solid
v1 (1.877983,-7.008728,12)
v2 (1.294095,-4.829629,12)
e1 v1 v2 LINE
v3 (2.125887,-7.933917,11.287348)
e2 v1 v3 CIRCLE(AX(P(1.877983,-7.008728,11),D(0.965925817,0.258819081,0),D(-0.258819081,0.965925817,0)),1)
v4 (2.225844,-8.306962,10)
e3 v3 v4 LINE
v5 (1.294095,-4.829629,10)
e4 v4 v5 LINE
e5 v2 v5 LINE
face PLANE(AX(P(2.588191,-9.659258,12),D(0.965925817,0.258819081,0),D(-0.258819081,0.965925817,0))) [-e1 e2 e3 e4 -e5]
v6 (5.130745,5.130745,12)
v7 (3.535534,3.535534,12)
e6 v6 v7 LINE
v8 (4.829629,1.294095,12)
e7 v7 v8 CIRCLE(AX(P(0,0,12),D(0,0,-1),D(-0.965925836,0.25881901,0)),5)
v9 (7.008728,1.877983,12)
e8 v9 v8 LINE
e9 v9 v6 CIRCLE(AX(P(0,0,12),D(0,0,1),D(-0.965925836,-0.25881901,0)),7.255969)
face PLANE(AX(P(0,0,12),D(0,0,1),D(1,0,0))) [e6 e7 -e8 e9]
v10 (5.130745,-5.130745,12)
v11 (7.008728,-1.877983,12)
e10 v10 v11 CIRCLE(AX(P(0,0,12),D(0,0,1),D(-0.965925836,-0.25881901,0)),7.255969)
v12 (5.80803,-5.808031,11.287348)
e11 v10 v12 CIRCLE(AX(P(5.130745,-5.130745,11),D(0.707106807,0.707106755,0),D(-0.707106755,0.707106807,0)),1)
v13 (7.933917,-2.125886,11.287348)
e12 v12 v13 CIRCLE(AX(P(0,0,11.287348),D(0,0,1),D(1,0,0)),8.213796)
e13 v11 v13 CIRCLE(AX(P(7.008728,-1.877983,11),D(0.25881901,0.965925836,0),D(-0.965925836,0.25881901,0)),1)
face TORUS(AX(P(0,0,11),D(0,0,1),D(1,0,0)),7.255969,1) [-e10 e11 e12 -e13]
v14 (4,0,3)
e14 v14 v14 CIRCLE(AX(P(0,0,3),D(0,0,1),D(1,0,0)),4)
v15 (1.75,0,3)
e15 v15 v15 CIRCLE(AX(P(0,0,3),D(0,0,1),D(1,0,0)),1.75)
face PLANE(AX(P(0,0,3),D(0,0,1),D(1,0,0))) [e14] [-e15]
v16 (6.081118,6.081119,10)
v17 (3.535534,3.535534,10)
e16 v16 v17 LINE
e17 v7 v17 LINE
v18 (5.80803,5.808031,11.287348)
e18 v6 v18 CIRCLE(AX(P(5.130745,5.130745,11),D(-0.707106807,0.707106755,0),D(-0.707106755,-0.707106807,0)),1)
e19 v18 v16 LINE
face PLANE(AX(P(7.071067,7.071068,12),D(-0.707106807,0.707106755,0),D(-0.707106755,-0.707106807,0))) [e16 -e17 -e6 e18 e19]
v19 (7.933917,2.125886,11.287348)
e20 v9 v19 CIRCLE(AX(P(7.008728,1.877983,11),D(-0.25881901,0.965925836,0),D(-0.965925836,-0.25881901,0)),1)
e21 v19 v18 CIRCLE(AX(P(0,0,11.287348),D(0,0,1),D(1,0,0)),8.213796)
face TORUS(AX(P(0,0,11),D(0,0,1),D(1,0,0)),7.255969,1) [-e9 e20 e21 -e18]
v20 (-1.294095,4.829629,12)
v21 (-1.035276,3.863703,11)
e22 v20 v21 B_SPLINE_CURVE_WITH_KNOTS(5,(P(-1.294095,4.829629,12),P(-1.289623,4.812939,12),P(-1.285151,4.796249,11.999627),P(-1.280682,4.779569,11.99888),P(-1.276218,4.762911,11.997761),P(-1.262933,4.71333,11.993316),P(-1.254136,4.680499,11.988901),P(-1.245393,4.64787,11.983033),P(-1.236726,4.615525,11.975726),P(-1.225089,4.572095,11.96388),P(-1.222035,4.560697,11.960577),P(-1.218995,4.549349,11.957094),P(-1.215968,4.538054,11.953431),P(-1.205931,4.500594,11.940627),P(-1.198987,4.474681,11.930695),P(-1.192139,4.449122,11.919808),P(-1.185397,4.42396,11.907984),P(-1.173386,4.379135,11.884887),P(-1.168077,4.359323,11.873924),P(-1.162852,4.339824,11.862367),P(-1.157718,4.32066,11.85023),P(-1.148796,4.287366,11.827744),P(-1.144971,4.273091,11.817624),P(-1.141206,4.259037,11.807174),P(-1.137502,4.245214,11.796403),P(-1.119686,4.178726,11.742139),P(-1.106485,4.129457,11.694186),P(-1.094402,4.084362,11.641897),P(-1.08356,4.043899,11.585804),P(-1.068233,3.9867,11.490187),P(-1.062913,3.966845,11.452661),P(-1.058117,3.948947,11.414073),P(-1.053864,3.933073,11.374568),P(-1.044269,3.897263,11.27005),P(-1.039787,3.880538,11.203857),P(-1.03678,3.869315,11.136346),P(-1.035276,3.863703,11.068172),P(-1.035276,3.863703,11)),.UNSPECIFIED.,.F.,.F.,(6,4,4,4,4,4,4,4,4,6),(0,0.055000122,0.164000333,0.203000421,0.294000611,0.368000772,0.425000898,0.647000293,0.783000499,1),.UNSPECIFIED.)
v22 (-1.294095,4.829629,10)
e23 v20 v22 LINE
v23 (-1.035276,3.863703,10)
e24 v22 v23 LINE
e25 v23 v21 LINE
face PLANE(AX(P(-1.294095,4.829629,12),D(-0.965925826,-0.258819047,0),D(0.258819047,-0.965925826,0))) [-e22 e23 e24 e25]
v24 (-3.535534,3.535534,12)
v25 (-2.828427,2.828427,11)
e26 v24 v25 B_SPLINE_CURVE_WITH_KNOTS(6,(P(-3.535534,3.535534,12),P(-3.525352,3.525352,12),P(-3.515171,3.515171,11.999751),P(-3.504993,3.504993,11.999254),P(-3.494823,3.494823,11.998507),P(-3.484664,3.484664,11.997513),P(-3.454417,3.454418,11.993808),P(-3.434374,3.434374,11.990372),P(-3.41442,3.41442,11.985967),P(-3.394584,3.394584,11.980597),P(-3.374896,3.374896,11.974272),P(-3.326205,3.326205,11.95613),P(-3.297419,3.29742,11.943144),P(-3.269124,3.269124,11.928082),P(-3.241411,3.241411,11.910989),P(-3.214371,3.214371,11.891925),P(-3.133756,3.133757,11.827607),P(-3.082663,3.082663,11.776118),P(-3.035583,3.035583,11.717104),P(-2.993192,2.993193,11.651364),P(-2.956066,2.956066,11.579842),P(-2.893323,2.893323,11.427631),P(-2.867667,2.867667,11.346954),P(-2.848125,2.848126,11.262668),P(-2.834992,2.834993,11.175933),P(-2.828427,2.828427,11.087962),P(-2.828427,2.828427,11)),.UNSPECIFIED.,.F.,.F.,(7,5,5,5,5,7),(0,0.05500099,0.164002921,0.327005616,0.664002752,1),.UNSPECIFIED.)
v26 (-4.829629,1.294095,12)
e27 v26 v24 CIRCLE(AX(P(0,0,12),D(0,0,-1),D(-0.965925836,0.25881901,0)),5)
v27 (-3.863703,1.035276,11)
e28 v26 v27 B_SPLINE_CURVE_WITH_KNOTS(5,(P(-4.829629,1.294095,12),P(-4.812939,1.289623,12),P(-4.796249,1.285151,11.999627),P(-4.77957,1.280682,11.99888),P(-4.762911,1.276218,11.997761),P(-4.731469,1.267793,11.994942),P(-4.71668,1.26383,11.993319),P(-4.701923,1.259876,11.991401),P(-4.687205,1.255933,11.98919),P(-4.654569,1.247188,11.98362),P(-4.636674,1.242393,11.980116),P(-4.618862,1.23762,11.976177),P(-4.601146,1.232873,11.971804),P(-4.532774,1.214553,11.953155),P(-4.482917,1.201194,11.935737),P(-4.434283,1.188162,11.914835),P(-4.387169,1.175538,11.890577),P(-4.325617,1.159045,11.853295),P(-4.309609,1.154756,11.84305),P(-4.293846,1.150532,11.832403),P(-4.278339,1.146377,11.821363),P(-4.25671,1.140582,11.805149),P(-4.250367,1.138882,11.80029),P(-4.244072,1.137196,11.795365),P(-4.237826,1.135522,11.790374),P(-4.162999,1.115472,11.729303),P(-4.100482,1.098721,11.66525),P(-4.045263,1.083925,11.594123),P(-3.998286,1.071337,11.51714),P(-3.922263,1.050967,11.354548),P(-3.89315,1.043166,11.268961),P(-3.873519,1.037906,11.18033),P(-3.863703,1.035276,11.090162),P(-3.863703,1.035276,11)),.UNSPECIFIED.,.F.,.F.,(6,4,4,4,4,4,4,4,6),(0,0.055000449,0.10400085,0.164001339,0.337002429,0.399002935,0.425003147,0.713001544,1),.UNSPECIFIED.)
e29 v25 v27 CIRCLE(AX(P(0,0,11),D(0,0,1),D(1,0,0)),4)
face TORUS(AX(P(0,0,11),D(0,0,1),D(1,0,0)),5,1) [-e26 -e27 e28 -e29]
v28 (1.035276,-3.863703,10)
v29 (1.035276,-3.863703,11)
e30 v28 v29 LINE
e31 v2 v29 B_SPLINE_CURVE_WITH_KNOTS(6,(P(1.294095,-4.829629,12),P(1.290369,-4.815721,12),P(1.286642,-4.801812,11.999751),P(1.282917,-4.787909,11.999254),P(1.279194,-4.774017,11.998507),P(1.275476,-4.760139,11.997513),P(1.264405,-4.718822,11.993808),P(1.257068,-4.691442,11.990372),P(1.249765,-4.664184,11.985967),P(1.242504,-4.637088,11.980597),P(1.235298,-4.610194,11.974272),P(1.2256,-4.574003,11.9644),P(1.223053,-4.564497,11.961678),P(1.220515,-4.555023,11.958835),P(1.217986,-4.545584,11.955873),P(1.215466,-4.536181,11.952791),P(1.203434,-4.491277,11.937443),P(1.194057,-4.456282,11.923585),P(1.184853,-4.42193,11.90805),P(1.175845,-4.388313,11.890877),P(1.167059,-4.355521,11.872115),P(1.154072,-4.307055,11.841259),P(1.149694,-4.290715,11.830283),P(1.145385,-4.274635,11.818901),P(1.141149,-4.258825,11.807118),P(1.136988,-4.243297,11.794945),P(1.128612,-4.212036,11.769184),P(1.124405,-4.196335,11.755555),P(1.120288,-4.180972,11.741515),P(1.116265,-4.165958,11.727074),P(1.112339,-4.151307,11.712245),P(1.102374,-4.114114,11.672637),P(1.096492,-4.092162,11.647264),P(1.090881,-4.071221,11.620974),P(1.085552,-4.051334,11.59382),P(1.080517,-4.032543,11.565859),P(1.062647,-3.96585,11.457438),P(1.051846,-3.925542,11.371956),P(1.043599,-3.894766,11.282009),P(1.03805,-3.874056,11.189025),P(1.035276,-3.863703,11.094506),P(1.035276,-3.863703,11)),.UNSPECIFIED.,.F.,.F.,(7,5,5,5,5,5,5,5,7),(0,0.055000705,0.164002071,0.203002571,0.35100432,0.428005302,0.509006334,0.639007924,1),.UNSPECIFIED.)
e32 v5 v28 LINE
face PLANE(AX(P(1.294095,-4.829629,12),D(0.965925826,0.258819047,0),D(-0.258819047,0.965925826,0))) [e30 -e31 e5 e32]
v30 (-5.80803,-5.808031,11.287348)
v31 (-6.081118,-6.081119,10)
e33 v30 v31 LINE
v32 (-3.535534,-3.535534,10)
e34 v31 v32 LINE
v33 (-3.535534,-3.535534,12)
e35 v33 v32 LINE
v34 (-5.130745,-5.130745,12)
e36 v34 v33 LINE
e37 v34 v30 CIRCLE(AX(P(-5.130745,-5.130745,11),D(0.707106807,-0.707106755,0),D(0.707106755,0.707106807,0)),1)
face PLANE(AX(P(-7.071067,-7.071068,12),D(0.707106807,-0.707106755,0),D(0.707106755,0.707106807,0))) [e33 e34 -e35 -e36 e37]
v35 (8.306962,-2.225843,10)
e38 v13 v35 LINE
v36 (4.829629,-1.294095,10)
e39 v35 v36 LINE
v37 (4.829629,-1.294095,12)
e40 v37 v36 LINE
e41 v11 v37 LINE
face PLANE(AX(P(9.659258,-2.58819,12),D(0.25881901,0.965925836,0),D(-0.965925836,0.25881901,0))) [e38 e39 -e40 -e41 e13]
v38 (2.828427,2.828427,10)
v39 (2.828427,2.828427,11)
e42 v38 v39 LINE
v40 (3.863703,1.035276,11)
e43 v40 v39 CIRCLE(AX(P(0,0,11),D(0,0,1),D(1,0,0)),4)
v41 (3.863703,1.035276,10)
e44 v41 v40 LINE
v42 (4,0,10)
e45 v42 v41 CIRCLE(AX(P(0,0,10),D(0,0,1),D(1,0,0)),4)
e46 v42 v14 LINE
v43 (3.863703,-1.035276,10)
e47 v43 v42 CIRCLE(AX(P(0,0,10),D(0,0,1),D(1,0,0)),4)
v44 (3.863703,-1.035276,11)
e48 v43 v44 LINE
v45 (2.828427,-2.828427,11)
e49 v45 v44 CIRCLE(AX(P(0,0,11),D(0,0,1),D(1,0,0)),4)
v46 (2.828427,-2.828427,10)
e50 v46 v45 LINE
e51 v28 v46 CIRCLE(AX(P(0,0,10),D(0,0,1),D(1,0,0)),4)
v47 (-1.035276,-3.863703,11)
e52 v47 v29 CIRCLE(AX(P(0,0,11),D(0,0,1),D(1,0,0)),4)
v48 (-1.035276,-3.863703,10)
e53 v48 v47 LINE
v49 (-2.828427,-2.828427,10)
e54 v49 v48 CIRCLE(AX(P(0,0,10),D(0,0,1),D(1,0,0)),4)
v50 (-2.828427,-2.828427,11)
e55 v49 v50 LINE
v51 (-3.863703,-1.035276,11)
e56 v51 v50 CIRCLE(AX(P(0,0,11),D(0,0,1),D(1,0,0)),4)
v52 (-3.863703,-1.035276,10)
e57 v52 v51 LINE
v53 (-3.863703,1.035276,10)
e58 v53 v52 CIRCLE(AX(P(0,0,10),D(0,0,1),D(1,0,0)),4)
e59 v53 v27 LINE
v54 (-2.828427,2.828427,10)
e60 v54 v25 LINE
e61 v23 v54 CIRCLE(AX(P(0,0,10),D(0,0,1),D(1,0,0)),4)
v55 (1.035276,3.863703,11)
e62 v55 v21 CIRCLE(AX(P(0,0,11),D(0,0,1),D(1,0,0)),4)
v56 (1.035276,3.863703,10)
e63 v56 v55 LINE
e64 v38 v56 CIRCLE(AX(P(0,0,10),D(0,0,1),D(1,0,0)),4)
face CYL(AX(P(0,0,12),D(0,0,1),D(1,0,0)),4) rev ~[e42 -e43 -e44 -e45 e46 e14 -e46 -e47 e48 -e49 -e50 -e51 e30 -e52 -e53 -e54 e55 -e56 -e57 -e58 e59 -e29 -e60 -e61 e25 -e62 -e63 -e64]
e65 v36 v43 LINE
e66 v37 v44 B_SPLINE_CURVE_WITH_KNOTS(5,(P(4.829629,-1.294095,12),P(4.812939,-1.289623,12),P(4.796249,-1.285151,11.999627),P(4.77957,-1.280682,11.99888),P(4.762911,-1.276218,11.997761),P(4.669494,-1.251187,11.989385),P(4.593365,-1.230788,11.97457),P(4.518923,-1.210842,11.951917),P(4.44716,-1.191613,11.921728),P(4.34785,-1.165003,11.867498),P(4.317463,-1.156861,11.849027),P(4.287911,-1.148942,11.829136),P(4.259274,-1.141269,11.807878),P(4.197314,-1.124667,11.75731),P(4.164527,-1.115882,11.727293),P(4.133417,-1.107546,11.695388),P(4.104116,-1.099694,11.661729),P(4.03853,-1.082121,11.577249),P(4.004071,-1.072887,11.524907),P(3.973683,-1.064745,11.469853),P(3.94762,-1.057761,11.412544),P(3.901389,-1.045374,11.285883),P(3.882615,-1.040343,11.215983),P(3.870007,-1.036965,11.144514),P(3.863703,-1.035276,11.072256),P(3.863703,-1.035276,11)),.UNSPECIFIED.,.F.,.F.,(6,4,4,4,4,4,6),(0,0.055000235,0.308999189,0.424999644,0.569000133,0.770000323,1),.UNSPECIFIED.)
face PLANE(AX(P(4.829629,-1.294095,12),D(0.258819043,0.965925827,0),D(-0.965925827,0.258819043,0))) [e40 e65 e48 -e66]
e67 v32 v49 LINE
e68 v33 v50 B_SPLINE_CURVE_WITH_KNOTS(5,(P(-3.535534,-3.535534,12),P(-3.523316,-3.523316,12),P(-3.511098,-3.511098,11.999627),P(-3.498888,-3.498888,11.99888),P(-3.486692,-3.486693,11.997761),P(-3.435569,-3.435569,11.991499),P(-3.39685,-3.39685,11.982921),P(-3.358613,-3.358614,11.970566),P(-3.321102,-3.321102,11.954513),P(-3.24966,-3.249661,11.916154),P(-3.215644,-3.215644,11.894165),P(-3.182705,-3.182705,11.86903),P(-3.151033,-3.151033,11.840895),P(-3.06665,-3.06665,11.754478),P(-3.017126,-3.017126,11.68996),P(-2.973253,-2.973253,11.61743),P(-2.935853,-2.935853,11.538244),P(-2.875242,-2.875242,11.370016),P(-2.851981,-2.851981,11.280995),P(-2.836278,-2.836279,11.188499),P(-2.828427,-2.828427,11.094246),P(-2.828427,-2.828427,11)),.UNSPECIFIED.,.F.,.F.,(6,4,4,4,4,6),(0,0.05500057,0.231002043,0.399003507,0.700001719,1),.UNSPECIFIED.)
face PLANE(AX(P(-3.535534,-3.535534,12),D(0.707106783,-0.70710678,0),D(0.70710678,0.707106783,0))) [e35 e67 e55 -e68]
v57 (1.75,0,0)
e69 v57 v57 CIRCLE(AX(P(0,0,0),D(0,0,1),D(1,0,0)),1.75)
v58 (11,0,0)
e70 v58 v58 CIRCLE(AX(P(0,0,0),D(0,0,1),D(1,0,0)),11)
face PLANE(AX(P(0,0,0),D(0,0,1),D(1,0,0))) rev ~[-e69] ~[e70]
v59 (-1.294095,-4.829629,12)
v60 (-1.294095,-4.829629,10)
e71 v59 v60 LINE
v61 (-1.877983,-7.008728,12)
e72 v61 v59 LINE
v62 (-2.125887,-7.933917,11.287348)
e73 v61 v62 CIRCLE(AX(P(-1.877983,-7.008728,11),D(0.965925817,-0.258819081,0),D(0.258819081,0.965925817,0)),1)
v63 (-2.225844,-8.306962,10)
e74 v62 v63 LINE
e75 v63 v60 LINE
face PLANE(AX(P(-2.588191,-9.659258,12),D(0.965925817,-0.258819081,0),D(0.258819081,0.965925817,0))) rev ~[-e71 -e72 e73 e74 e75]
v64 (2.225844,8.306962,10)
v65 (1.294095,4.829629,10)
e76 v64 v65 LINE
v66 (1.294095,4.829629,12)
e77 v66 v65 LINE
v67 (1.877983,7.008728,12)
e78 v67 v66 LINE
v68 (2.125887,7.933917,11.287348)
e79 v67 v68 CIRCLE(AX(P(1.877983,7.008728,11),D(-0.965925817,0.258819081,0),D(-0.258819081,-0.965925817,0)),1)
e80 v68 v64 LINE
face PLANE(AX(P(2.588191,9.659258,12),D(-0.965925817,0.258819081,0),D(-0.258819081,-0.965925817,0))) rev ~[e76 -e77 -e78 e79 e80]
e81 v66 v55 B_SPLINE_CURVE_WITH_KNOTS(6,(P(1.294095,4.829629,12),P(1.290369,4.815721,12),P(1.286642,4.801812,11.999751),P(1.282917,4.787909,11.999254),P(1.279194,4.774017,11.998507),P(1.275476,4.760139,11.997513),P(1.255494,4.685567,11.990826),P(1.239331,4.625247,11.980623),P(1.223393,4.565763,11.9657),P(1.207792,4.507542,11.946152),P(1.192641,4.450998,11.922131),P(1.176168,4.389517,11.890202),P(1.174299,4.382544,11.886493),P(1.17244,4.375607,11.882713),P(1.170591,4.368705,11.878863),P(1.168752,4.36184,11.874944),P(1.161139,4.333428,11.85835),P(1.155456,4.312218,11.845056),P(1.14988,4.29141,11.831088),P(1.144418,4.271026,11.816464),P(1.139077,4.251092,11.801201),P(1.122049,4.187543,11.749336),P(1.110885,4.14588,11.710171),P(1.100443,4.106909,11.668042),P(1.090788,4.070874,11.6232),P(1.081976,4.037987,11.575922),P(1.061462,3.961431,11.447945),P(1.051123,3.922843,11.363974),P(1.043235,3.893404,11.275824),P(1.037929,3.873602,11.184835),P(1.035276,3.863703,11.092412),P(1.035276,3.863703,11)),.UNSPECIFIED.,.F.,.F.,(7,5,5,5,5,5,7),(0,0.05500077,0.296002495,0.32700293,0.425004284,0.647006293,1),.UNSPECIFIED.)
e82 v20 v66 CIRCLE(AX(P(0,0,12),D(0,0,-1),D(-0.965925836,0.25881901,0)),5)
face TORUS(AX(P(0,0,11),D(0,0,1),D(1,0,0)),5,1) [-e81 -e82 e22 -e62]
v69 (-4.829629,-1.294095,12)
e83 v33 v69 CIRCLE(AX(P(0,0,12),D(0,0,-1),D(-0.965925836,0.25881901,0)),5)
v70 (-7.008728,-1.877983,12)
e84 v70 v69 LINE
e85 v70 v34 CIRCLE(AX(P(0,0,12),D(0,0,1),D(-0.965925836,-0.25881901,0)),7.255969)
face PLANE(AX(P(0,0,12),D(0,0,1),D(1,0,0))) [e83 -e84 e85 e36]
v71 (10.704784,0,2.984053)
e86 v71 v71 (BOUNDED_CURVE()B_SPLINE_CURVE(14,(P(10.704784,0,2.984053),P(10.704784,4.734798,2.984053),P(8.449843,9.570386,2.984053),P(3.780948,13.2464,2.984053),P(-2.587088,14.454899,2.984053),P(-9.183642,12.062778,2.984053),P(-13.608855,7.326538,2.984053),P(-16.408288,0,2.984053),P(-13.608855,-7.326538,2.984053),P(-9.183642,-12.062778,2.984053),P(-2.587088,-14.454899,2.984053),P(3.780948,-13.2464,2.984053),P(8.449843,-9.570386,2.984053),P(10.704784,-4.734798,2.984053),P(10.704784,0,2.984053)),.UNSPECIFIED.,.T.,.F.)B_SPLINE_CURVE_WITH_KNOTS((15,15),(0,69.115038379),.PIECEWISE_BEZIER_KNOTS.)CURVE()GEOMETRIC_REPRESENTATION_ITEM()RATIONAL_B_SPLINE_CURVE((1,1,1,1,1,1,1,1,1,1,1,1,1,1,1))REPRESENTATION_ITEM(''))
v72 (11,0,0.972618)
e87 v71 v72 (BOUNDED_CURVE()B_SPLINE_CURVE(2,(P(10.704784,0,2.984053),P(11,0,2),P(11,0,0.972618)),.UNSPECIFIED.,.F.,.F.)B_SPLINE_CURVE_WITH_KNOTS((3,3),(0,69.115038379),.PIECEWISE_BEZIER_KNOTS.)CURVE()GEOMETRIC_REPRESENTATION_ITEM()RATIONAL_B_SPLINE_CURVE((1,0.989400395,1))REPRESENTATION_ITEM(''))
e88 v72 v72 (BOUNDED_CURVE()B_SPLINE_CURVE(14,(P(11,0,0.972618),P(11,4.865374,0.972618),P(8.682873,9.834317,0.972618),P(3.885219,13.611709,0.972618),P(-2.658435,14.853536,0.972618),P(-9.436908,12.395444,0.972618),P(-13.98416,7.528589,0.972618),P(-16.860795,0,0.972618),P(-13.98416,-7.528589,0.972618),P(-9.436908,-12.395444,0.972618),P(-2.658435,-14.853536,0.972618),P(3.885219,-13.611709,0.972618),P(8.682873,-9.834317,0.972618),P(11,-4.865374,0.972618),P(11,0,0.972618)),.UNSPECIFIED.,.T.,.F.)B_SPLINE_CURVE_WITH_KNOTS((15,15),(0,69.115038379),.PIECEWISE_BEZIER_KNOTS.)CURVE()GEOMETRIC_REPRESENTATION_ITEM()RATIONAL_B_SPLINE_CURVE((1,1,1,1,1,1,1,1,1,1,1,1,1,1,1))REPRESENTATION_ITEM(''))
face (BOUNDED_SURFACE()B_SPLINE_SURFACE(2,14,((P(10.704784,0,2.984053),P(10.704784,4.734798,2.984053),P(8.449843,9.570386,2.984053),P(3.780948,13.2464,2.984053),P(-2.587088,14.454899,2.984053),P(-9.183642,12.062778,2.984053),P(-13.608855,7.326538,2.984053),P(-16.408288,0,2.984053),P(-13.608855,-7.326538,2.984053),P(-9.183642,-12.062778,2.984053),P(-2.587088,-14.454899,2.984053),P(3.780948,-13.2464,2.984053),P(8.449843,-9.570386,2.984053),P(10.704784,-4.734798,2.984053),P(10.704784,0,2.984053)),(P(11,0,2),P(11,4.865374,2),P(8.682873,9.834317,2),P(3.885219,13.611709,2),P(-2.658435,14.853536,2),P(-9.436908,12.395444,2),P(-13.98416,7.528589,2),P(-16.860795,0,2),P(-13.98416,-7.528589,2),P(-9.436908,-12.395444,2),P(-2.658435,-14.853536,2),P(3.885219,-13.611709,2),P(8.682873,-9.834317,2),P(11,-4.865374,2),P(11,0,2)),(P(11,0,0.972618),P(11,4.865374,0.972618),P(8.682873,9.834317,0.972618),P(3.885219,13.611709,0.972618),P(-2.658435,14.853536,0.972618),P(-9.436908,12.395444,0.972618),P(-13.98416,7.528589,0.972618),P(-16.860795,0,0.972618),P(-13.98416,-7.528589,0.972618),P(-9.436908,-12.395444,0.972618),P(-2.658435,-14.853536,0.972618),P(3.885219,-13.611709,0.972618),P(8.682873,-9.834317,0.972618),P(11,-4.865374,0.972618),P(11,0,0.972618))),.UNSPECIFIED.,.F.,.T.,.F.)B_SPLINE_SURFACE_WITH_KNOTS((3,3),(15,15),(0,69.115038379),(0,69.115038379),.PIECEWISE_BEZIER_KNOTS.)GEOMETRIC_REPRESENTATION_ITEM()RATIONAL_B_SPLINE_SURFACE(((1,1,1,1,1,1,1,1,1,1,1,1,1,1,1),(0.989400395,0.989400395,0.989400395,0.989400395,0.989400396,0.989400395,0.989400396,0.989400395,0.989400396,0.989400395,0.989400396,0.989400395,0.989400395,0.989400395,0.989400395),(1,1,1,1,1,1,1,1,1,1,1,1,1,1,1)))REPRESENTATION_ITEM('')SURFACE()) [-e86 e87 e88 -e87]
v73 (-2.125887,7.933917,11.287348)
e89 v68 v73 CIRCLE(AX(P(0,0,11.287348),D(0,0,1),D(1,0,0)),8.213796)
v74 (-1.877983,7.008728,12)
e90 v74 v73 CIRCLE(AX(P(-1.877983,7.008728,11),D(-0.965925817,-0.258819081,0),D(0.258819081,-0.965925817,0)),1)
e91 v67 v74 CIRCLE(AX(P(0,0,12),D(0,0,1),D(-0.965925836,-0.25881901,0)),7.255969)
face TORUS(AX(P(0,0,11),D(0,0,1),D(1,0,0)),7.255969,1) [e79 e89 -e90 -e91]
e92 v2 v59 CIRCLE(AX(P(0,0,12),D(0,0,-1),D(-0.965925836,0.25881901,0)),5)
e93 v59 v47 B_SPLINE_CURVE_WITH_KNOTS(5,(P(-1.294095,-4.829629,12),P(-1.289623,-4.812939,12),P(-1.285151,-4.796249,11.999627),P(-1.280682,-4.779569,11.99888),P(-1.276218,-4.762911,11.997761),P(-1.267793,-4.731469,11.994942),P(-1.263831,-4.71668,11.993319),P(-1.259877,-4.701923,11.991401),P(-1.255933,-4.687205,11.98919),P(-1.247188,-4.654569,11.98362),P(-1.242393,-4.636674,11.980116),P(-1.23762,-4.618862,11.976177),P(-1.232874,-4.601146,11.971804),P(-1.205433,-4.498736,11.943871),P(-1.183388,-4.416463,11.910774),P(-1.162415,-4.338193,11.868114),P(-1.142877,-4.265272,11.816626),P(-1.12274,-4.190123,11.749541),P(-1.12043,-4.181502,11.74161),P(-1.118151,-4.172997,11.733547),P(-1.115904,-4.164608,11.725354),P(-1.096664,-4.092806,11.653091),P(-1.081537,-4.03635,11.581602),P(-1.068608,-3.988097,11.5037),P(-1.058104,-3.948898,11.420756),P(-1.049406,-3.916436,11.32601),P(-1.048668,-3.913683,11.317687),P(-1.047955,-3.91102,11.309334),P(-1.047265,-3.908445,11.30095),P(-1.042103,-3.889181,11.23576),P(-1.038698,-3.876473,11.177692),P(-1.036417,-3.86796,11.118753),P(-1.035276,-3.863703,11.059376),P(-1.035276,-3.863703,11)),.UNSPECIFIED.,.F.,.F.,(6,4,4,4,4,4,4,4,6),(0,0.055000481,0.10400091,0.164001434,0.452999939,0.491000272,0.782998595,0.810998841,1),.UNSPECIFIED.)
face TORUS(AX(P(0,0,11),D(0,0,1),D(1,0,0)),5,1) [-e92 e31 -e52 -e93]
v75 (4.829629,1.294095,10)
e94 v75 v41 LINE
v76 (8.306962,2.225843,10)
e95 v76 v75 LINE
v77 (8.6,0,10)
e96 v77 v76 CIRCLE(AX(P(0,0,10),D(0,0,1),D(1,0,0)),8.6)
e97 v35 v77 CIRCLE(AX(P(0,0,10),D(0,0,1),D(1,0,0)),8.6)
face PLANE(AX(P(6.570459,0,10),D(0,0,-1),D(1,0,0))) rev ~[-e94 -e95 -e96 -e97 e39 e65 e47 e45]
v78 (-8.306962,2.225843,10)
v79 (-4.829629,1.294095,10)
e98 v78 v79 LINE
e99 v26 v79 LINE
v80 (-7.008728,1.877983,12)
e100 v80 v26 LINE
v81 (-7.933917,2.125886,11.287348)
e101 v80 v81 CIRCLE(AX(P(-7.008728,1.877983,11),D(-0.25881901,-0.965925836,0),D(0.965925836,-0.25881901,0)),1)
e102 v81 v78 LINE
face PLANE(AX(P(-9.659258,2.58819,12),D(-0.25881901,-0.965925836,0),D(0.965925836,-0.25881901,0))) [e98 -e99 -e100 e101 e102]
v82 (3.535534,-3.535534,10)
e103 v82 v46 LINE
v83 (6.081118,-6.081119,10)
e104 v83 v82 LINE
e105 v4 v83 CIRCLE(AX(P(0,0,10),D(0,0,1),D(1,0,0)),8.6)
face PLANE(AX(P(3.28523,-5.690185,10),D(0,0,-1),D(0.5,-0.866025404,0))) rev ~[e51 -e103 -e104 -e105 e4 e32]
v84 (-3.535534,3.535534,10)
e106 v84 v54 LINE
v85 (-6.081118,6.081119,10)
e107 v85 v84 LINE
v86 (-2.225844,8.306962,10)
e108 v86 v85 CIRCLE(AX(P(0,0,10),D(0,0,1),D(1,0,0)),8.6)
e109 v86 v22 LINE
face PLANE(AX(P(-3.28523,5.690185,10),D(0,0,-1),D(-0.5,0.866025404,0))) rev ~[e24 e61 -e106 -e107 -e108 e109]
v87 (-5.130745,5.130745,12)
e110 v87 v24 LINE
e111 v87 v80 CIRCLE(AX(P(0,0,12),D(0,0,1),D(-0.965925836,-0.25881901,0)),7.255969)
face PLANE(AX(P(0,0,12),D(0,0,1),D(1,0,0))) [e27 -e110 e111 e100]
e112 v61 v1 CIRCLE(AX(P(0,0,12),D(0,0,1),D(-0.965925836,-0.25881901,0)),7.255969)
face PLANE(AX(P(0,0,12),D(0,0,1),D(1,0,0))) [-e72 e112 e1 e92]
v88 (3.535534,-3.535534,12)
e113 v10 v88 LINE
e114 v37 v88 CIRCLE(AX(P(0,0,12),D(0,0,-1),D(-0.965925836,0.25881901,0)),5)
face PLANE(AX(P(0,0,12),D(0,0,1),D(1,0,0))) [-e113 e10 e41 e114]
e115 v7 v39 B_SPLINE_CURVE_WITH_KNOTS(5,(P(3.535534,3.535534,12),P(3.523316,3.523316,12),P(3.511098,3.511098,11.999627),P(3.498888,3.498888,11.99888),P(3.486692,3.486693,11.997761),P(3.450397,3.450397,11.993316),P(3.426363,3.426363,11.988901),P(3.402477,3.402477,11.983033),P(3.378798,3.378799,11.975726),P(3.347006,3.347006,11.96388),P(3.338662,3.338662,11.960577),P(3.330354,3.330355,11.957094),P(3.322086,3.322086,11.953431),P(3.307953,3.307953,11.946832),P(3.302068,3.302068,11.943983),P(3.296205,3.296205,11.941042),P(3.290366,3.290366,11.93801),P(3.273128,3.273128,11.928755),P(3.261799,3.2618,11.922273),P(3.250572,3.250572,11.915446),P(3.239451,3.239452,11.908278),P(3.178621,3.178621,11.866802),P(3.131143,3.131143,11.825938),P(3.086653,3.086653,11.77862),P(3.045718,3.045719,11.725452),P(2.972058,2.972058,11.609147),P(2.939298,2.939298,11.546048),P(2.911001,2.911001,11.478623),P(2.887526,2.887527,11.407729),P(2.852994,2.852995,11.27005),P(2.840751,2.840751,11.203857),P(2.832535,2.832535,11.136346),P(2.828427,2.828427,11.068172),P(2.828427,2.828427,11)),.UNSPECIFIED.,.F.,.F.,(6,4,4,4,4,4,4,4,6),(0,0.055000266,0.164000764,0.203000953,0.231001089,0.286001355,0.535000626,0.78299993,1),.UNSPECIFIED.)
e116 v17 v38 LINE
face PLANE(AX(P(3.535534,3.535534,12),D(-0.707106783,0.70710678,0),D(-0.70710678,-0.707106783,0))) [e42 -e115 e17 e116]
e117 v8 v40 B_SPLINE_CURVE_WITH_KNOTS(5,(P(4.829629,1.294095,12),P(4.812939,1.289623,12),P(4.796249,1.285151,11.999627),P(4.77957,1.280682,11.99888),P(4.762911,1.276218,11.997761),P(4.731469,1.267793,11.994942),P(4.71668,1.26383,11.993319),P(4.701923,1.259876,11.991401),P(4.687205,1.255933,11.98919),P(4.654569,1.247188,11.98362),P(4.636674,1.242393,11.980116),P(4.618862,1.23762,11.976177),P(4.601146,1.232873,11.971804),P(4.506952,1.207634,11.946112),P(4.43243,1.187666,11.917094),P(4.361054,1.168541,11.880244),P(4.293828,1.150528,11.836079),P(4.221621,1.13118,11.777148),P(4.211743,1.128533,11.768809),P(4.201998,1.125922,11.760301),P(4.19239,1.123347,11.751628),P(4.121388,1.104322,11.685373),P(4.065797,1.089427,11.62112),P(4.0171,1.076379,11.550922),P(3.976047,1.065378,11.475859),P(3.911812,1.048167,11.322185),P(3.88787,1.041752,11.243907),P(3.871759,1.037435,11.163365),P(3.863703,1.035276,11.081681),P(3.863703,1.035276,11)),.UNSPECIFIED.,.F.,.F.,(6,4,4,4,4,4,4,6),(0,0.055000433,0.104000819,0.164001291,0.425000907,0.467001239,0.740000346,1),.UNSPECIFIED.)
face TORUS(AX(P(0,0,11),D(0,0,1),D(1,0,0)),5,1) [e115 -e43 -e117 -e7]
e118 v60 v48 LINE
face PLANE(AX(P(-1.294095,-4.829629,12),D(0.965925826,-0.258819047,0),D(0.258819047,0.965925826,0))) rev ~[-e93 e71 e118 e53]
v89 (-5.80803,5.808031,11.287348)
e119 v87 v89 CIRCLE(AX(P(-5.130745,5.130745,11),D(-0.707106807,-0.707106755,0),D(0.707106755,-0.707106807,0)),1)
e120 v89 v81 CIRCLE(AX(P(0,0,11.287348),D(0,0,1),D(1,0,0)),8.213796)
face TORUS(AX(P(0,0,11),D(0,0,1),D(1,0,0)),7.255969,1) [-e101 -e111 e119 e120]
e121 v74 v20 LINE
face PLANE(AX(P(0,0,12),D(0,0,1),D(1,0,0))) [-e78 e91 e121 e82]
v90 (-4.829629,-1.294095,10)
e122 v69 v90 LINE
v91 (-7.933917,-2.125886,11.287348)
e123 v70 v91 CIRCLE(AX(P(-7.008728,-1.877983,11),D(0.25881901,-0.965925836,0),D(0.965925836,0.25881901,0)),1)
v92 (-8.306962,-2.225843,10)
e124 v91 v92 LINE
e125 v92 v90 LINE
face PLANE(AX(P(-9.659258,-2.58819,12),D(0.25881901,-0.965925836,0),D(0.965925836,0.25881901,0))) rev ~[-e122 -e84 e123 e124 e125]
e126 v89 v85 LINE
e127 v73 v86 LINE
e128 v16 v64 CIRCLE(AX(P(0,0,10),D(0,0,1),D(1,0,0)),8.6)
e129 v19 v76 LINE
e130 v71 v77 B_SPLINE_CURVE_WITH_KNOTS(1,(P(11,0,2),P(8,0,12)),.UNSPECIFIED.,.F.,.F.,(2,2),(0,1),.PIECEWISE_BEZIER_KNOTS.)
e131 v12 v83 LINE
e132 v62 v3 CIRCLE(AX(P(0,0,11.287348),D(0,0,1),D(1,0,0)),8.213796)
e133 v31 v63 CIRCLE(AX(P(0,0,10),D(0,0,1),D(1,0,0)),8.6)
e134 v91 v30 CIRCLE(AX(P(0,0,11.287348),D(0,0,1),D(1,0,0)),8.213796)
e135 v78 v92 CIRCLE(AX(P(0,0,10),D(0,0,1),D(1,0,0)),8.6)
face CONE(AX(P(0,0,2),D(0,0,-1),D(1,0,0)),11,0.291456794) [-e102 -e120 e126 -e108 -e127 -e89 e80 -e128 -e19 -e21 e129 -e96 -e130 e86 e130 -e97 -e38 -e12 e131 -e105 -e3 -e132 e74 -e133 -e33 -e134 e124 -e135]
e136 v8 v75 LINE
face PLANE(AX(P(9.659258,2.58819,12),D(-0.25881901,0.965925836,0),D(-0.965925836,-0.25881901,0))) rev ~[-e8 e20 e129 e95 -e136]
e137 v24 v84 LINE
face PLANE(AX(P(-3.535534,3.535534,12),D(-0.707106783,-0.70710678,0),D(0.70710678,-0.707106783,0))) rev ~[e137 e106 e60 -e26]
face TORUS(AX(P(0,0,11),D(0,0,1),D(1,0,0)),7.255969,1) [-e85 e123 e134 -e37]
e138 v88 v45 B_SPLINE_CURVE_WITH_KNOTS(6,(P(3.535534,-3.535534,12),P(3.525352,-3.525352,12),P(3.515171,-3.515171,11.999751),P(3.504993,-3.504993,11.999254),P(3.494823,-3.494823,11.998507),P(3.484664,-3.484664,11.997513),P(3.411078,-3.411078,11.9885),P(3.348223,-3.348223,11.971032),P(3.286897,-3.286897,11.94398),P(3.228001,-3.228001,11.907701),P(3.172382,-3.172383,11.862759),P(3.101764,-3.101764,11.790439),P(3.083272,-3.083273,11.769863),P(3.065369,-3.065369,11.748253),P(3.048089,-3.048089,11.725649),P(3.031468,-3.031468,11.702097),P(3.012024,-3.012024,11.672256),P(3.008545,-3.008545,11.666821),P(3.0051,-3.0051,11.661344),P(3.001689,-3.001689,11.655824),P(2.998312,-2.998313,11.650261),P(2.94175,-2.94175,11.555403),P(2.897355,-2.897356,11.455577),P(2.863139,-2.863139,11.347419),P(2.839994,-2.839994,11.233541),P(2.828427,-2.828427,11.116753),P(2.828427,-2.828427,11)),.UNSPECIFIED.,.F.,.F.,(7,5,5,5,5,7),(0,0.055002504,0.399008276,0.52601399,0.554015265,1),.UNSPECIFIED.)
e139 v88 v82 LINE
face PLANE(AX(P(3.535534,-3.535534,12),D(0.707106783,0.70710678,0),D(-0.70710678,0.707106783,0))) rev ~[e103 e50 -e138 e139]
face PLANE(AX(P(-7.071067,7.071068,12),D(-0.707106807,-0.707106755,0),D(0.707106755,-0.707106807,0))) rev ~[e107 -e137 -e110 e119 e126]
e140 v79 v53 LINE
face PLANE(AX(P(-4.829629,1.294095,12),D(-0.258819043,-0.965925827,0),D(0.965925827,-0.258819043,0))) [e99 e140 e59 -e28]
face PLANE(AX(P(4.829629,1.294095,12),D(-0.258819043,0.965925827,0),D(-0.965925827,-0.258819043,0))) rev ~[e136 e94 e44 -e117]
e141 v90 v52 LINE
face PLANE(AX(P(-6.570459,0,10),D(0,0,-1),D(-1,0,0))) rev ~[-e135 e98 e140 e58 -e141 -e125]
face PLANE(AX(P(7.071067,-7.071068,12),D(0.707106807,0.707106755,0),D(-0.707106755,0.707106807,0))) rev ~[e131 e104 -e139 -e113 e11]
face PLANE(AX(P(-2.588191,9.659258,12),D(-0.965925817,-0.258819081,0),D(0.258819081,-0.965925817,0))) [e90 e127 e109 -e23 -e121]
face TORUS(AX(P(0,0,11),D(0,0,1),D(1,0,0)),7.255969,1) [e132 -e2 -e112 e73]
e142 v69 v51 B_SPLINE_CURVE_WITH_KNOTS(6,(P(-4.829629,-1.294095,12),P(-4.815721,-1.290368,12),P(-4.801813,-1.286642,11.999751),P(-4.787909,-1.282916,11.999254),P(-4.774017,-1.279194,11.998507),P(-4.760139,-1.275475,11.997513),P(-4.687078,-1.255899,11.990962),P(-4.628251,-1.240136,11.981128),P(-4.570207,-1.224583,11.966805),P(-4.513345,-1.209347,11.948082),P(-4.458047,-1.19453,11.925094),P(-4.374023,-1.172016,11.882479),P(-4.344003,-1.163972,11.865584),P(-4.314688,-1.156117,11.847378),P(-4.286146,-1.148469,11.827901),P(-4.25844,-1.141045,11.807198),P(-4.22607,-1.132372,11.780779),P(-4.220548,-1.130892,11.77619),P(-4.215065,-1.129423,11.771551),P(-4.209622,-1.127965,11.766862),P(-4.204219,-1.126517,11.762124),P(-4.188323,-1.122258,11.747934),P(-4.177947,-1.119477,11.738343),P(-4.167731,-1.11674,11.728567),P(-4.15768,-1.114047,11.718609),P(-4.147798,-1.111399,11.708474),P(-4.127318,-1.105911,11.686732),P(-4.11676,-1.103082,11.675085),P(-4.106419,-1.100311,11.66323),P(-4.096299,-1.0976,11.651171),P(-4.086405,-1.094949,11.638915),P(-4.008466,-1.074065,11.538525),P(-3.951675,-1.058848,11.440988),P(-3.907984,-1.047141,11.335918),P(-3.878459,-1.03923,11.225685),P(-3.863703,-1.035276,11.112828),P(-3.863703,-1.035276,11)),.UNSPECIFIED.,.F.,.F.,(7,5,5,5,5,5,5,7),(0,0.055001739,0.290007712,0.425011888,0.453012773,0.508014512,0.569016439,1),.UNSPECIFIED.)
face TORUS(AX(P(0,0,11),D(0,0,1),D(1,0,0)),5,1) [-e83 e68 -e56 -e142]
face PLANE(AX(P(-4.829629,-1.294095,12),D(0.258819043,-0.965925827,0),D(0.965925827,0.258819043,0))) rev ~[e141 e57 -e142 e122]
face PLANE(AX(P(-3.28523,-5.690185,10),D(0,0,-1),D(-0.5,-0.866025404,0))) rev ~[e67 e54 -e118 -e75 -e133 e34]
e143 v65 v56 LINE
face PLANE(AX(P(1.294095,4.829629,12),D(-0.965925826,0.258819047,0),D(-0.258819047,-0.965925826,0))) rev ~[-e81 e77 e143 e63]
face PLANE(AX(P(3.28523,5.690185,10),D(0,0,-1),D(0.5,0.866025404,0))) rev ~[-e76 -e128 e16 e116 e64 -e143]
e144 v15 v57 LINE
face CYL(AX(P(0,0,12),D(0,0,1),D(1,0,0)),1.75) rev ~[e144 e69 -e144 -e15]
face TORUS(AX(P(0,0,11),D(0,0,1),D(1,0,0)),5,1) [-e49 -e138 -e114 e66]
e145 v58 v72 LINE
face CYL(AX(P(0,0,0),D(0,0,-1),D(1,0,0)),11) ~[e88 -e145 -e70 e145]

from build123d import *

# Parameters (mm, degrees)
SKETCH_R           = 11
PAD_DEPTH          = 2
SKETCH001_R        = 11
SKETCH002_R        = 8
FILLET_R           = 7
SKETCH003_R        = 1.75
POCKET_DEPTH       = 12.001
SKETCH004_R        = 4
POCKET001_DEPTH    = 9
FILLET001_R        = 1
FILLET002_R        = 1
POCKET002_DEPTH    = 2
POLARPATTERN_COUNT = 6


with BuildPart() as part:
    # Sketch → Pad (new body)
    with BuildSketch(Plane.XY):
        Circle(SKETCH_R)
    extrude(amount=PAD_DEPTH)

    # Sketch001 (on Face3 of Pad) → AdditiveLoft section 0
    with BuildSketch(Plane.XY.offset(2)):
        Circle(SKETCH001_R)
    # Sketch002 (on DatumPlane) → AdditiveLoft section 1
    with BuildSketch(Plane.XY.offset(12)):
        Circle(SKETCH002_R)
    loft()

    # Fillet
    fillet_edges = [part.edges().sort_by_distance(p)[0] for p in [
        (-11, 0, 2),
    ]]
    fillet(fillet_edges, radius=FILLET_R)

    # Sketch003 (on Face5 of Fillet) → Pocket (cut, through all)
    with BuildSketch(Plane.XY.offset(12)):
        Circle(SKETCH003_R)
    extrude(amount=-POCKET_DEPTH, mode=Mode.SUBTRACT)

    # Sketch004 (on Face6 of Pocket) → Pocket001 (cut)
    with BuildSketch(Plane.XY.offset(12)):
        Circle(SKETCH004_R)
    extrude(amount=-POCKET001_DEPTH, mode=Mode.SUBTRACT)

    # Fillet001
    fillet001_edges = [part.edges().sort_by_distance(p)[0] for p in [
        (-8, 0, 12),
    ]]
    fillet(fillet001_edges, radius=FILLET001_R)

    # Fillet002
    fillet002_edges = [part.edges().sort_by_distance(p)[0] for p in [
        (-4, 0, 12),
    ]]
    fillet(fillet002_edges, radius=FILLET002_R)

    # Sketch005 (on Face1 of Fillet002) → Pocket002 (cut)
    with BuildSketch(Plane.XY.offset(12)):
        with BuildLine():
            Line((-9.659258, 2.58819), (-4.829629, 1.294095))
            Line((-4.829629, 1.294095), (-1.931852, 0.517638))
            ThreePointArc((-1.931852, 0.517638), (-2, 0), (-1.931852, -0.517638))
            Line((-4.829629, -1.294095), (-1.931852, -0.517638))
            Line((-9.659258, -2.58819), (-4.829629, -1.294095))
            ThreePointArc((-9.659258, 2.58819), (-10, 0), (-9.659258, -2.58819))
        make_face()
    pocket002 = extrude(amount=-POCKET002_DEPTH, mode=Mode.SUBTRACT)

    # PolarPattern: Pocket002 ×6 about axis
    polarpattern_axis = Axis((0, 0, 12), (0, 0, 1))
    for i in range(1, POLARPATTERN_COUNT):
        add(pocket002.rotate(polarpattern_axis, i * 360 / POLARPATTERN_COUNT), mode=Mode.SUBTRACT)


solid = part.part
